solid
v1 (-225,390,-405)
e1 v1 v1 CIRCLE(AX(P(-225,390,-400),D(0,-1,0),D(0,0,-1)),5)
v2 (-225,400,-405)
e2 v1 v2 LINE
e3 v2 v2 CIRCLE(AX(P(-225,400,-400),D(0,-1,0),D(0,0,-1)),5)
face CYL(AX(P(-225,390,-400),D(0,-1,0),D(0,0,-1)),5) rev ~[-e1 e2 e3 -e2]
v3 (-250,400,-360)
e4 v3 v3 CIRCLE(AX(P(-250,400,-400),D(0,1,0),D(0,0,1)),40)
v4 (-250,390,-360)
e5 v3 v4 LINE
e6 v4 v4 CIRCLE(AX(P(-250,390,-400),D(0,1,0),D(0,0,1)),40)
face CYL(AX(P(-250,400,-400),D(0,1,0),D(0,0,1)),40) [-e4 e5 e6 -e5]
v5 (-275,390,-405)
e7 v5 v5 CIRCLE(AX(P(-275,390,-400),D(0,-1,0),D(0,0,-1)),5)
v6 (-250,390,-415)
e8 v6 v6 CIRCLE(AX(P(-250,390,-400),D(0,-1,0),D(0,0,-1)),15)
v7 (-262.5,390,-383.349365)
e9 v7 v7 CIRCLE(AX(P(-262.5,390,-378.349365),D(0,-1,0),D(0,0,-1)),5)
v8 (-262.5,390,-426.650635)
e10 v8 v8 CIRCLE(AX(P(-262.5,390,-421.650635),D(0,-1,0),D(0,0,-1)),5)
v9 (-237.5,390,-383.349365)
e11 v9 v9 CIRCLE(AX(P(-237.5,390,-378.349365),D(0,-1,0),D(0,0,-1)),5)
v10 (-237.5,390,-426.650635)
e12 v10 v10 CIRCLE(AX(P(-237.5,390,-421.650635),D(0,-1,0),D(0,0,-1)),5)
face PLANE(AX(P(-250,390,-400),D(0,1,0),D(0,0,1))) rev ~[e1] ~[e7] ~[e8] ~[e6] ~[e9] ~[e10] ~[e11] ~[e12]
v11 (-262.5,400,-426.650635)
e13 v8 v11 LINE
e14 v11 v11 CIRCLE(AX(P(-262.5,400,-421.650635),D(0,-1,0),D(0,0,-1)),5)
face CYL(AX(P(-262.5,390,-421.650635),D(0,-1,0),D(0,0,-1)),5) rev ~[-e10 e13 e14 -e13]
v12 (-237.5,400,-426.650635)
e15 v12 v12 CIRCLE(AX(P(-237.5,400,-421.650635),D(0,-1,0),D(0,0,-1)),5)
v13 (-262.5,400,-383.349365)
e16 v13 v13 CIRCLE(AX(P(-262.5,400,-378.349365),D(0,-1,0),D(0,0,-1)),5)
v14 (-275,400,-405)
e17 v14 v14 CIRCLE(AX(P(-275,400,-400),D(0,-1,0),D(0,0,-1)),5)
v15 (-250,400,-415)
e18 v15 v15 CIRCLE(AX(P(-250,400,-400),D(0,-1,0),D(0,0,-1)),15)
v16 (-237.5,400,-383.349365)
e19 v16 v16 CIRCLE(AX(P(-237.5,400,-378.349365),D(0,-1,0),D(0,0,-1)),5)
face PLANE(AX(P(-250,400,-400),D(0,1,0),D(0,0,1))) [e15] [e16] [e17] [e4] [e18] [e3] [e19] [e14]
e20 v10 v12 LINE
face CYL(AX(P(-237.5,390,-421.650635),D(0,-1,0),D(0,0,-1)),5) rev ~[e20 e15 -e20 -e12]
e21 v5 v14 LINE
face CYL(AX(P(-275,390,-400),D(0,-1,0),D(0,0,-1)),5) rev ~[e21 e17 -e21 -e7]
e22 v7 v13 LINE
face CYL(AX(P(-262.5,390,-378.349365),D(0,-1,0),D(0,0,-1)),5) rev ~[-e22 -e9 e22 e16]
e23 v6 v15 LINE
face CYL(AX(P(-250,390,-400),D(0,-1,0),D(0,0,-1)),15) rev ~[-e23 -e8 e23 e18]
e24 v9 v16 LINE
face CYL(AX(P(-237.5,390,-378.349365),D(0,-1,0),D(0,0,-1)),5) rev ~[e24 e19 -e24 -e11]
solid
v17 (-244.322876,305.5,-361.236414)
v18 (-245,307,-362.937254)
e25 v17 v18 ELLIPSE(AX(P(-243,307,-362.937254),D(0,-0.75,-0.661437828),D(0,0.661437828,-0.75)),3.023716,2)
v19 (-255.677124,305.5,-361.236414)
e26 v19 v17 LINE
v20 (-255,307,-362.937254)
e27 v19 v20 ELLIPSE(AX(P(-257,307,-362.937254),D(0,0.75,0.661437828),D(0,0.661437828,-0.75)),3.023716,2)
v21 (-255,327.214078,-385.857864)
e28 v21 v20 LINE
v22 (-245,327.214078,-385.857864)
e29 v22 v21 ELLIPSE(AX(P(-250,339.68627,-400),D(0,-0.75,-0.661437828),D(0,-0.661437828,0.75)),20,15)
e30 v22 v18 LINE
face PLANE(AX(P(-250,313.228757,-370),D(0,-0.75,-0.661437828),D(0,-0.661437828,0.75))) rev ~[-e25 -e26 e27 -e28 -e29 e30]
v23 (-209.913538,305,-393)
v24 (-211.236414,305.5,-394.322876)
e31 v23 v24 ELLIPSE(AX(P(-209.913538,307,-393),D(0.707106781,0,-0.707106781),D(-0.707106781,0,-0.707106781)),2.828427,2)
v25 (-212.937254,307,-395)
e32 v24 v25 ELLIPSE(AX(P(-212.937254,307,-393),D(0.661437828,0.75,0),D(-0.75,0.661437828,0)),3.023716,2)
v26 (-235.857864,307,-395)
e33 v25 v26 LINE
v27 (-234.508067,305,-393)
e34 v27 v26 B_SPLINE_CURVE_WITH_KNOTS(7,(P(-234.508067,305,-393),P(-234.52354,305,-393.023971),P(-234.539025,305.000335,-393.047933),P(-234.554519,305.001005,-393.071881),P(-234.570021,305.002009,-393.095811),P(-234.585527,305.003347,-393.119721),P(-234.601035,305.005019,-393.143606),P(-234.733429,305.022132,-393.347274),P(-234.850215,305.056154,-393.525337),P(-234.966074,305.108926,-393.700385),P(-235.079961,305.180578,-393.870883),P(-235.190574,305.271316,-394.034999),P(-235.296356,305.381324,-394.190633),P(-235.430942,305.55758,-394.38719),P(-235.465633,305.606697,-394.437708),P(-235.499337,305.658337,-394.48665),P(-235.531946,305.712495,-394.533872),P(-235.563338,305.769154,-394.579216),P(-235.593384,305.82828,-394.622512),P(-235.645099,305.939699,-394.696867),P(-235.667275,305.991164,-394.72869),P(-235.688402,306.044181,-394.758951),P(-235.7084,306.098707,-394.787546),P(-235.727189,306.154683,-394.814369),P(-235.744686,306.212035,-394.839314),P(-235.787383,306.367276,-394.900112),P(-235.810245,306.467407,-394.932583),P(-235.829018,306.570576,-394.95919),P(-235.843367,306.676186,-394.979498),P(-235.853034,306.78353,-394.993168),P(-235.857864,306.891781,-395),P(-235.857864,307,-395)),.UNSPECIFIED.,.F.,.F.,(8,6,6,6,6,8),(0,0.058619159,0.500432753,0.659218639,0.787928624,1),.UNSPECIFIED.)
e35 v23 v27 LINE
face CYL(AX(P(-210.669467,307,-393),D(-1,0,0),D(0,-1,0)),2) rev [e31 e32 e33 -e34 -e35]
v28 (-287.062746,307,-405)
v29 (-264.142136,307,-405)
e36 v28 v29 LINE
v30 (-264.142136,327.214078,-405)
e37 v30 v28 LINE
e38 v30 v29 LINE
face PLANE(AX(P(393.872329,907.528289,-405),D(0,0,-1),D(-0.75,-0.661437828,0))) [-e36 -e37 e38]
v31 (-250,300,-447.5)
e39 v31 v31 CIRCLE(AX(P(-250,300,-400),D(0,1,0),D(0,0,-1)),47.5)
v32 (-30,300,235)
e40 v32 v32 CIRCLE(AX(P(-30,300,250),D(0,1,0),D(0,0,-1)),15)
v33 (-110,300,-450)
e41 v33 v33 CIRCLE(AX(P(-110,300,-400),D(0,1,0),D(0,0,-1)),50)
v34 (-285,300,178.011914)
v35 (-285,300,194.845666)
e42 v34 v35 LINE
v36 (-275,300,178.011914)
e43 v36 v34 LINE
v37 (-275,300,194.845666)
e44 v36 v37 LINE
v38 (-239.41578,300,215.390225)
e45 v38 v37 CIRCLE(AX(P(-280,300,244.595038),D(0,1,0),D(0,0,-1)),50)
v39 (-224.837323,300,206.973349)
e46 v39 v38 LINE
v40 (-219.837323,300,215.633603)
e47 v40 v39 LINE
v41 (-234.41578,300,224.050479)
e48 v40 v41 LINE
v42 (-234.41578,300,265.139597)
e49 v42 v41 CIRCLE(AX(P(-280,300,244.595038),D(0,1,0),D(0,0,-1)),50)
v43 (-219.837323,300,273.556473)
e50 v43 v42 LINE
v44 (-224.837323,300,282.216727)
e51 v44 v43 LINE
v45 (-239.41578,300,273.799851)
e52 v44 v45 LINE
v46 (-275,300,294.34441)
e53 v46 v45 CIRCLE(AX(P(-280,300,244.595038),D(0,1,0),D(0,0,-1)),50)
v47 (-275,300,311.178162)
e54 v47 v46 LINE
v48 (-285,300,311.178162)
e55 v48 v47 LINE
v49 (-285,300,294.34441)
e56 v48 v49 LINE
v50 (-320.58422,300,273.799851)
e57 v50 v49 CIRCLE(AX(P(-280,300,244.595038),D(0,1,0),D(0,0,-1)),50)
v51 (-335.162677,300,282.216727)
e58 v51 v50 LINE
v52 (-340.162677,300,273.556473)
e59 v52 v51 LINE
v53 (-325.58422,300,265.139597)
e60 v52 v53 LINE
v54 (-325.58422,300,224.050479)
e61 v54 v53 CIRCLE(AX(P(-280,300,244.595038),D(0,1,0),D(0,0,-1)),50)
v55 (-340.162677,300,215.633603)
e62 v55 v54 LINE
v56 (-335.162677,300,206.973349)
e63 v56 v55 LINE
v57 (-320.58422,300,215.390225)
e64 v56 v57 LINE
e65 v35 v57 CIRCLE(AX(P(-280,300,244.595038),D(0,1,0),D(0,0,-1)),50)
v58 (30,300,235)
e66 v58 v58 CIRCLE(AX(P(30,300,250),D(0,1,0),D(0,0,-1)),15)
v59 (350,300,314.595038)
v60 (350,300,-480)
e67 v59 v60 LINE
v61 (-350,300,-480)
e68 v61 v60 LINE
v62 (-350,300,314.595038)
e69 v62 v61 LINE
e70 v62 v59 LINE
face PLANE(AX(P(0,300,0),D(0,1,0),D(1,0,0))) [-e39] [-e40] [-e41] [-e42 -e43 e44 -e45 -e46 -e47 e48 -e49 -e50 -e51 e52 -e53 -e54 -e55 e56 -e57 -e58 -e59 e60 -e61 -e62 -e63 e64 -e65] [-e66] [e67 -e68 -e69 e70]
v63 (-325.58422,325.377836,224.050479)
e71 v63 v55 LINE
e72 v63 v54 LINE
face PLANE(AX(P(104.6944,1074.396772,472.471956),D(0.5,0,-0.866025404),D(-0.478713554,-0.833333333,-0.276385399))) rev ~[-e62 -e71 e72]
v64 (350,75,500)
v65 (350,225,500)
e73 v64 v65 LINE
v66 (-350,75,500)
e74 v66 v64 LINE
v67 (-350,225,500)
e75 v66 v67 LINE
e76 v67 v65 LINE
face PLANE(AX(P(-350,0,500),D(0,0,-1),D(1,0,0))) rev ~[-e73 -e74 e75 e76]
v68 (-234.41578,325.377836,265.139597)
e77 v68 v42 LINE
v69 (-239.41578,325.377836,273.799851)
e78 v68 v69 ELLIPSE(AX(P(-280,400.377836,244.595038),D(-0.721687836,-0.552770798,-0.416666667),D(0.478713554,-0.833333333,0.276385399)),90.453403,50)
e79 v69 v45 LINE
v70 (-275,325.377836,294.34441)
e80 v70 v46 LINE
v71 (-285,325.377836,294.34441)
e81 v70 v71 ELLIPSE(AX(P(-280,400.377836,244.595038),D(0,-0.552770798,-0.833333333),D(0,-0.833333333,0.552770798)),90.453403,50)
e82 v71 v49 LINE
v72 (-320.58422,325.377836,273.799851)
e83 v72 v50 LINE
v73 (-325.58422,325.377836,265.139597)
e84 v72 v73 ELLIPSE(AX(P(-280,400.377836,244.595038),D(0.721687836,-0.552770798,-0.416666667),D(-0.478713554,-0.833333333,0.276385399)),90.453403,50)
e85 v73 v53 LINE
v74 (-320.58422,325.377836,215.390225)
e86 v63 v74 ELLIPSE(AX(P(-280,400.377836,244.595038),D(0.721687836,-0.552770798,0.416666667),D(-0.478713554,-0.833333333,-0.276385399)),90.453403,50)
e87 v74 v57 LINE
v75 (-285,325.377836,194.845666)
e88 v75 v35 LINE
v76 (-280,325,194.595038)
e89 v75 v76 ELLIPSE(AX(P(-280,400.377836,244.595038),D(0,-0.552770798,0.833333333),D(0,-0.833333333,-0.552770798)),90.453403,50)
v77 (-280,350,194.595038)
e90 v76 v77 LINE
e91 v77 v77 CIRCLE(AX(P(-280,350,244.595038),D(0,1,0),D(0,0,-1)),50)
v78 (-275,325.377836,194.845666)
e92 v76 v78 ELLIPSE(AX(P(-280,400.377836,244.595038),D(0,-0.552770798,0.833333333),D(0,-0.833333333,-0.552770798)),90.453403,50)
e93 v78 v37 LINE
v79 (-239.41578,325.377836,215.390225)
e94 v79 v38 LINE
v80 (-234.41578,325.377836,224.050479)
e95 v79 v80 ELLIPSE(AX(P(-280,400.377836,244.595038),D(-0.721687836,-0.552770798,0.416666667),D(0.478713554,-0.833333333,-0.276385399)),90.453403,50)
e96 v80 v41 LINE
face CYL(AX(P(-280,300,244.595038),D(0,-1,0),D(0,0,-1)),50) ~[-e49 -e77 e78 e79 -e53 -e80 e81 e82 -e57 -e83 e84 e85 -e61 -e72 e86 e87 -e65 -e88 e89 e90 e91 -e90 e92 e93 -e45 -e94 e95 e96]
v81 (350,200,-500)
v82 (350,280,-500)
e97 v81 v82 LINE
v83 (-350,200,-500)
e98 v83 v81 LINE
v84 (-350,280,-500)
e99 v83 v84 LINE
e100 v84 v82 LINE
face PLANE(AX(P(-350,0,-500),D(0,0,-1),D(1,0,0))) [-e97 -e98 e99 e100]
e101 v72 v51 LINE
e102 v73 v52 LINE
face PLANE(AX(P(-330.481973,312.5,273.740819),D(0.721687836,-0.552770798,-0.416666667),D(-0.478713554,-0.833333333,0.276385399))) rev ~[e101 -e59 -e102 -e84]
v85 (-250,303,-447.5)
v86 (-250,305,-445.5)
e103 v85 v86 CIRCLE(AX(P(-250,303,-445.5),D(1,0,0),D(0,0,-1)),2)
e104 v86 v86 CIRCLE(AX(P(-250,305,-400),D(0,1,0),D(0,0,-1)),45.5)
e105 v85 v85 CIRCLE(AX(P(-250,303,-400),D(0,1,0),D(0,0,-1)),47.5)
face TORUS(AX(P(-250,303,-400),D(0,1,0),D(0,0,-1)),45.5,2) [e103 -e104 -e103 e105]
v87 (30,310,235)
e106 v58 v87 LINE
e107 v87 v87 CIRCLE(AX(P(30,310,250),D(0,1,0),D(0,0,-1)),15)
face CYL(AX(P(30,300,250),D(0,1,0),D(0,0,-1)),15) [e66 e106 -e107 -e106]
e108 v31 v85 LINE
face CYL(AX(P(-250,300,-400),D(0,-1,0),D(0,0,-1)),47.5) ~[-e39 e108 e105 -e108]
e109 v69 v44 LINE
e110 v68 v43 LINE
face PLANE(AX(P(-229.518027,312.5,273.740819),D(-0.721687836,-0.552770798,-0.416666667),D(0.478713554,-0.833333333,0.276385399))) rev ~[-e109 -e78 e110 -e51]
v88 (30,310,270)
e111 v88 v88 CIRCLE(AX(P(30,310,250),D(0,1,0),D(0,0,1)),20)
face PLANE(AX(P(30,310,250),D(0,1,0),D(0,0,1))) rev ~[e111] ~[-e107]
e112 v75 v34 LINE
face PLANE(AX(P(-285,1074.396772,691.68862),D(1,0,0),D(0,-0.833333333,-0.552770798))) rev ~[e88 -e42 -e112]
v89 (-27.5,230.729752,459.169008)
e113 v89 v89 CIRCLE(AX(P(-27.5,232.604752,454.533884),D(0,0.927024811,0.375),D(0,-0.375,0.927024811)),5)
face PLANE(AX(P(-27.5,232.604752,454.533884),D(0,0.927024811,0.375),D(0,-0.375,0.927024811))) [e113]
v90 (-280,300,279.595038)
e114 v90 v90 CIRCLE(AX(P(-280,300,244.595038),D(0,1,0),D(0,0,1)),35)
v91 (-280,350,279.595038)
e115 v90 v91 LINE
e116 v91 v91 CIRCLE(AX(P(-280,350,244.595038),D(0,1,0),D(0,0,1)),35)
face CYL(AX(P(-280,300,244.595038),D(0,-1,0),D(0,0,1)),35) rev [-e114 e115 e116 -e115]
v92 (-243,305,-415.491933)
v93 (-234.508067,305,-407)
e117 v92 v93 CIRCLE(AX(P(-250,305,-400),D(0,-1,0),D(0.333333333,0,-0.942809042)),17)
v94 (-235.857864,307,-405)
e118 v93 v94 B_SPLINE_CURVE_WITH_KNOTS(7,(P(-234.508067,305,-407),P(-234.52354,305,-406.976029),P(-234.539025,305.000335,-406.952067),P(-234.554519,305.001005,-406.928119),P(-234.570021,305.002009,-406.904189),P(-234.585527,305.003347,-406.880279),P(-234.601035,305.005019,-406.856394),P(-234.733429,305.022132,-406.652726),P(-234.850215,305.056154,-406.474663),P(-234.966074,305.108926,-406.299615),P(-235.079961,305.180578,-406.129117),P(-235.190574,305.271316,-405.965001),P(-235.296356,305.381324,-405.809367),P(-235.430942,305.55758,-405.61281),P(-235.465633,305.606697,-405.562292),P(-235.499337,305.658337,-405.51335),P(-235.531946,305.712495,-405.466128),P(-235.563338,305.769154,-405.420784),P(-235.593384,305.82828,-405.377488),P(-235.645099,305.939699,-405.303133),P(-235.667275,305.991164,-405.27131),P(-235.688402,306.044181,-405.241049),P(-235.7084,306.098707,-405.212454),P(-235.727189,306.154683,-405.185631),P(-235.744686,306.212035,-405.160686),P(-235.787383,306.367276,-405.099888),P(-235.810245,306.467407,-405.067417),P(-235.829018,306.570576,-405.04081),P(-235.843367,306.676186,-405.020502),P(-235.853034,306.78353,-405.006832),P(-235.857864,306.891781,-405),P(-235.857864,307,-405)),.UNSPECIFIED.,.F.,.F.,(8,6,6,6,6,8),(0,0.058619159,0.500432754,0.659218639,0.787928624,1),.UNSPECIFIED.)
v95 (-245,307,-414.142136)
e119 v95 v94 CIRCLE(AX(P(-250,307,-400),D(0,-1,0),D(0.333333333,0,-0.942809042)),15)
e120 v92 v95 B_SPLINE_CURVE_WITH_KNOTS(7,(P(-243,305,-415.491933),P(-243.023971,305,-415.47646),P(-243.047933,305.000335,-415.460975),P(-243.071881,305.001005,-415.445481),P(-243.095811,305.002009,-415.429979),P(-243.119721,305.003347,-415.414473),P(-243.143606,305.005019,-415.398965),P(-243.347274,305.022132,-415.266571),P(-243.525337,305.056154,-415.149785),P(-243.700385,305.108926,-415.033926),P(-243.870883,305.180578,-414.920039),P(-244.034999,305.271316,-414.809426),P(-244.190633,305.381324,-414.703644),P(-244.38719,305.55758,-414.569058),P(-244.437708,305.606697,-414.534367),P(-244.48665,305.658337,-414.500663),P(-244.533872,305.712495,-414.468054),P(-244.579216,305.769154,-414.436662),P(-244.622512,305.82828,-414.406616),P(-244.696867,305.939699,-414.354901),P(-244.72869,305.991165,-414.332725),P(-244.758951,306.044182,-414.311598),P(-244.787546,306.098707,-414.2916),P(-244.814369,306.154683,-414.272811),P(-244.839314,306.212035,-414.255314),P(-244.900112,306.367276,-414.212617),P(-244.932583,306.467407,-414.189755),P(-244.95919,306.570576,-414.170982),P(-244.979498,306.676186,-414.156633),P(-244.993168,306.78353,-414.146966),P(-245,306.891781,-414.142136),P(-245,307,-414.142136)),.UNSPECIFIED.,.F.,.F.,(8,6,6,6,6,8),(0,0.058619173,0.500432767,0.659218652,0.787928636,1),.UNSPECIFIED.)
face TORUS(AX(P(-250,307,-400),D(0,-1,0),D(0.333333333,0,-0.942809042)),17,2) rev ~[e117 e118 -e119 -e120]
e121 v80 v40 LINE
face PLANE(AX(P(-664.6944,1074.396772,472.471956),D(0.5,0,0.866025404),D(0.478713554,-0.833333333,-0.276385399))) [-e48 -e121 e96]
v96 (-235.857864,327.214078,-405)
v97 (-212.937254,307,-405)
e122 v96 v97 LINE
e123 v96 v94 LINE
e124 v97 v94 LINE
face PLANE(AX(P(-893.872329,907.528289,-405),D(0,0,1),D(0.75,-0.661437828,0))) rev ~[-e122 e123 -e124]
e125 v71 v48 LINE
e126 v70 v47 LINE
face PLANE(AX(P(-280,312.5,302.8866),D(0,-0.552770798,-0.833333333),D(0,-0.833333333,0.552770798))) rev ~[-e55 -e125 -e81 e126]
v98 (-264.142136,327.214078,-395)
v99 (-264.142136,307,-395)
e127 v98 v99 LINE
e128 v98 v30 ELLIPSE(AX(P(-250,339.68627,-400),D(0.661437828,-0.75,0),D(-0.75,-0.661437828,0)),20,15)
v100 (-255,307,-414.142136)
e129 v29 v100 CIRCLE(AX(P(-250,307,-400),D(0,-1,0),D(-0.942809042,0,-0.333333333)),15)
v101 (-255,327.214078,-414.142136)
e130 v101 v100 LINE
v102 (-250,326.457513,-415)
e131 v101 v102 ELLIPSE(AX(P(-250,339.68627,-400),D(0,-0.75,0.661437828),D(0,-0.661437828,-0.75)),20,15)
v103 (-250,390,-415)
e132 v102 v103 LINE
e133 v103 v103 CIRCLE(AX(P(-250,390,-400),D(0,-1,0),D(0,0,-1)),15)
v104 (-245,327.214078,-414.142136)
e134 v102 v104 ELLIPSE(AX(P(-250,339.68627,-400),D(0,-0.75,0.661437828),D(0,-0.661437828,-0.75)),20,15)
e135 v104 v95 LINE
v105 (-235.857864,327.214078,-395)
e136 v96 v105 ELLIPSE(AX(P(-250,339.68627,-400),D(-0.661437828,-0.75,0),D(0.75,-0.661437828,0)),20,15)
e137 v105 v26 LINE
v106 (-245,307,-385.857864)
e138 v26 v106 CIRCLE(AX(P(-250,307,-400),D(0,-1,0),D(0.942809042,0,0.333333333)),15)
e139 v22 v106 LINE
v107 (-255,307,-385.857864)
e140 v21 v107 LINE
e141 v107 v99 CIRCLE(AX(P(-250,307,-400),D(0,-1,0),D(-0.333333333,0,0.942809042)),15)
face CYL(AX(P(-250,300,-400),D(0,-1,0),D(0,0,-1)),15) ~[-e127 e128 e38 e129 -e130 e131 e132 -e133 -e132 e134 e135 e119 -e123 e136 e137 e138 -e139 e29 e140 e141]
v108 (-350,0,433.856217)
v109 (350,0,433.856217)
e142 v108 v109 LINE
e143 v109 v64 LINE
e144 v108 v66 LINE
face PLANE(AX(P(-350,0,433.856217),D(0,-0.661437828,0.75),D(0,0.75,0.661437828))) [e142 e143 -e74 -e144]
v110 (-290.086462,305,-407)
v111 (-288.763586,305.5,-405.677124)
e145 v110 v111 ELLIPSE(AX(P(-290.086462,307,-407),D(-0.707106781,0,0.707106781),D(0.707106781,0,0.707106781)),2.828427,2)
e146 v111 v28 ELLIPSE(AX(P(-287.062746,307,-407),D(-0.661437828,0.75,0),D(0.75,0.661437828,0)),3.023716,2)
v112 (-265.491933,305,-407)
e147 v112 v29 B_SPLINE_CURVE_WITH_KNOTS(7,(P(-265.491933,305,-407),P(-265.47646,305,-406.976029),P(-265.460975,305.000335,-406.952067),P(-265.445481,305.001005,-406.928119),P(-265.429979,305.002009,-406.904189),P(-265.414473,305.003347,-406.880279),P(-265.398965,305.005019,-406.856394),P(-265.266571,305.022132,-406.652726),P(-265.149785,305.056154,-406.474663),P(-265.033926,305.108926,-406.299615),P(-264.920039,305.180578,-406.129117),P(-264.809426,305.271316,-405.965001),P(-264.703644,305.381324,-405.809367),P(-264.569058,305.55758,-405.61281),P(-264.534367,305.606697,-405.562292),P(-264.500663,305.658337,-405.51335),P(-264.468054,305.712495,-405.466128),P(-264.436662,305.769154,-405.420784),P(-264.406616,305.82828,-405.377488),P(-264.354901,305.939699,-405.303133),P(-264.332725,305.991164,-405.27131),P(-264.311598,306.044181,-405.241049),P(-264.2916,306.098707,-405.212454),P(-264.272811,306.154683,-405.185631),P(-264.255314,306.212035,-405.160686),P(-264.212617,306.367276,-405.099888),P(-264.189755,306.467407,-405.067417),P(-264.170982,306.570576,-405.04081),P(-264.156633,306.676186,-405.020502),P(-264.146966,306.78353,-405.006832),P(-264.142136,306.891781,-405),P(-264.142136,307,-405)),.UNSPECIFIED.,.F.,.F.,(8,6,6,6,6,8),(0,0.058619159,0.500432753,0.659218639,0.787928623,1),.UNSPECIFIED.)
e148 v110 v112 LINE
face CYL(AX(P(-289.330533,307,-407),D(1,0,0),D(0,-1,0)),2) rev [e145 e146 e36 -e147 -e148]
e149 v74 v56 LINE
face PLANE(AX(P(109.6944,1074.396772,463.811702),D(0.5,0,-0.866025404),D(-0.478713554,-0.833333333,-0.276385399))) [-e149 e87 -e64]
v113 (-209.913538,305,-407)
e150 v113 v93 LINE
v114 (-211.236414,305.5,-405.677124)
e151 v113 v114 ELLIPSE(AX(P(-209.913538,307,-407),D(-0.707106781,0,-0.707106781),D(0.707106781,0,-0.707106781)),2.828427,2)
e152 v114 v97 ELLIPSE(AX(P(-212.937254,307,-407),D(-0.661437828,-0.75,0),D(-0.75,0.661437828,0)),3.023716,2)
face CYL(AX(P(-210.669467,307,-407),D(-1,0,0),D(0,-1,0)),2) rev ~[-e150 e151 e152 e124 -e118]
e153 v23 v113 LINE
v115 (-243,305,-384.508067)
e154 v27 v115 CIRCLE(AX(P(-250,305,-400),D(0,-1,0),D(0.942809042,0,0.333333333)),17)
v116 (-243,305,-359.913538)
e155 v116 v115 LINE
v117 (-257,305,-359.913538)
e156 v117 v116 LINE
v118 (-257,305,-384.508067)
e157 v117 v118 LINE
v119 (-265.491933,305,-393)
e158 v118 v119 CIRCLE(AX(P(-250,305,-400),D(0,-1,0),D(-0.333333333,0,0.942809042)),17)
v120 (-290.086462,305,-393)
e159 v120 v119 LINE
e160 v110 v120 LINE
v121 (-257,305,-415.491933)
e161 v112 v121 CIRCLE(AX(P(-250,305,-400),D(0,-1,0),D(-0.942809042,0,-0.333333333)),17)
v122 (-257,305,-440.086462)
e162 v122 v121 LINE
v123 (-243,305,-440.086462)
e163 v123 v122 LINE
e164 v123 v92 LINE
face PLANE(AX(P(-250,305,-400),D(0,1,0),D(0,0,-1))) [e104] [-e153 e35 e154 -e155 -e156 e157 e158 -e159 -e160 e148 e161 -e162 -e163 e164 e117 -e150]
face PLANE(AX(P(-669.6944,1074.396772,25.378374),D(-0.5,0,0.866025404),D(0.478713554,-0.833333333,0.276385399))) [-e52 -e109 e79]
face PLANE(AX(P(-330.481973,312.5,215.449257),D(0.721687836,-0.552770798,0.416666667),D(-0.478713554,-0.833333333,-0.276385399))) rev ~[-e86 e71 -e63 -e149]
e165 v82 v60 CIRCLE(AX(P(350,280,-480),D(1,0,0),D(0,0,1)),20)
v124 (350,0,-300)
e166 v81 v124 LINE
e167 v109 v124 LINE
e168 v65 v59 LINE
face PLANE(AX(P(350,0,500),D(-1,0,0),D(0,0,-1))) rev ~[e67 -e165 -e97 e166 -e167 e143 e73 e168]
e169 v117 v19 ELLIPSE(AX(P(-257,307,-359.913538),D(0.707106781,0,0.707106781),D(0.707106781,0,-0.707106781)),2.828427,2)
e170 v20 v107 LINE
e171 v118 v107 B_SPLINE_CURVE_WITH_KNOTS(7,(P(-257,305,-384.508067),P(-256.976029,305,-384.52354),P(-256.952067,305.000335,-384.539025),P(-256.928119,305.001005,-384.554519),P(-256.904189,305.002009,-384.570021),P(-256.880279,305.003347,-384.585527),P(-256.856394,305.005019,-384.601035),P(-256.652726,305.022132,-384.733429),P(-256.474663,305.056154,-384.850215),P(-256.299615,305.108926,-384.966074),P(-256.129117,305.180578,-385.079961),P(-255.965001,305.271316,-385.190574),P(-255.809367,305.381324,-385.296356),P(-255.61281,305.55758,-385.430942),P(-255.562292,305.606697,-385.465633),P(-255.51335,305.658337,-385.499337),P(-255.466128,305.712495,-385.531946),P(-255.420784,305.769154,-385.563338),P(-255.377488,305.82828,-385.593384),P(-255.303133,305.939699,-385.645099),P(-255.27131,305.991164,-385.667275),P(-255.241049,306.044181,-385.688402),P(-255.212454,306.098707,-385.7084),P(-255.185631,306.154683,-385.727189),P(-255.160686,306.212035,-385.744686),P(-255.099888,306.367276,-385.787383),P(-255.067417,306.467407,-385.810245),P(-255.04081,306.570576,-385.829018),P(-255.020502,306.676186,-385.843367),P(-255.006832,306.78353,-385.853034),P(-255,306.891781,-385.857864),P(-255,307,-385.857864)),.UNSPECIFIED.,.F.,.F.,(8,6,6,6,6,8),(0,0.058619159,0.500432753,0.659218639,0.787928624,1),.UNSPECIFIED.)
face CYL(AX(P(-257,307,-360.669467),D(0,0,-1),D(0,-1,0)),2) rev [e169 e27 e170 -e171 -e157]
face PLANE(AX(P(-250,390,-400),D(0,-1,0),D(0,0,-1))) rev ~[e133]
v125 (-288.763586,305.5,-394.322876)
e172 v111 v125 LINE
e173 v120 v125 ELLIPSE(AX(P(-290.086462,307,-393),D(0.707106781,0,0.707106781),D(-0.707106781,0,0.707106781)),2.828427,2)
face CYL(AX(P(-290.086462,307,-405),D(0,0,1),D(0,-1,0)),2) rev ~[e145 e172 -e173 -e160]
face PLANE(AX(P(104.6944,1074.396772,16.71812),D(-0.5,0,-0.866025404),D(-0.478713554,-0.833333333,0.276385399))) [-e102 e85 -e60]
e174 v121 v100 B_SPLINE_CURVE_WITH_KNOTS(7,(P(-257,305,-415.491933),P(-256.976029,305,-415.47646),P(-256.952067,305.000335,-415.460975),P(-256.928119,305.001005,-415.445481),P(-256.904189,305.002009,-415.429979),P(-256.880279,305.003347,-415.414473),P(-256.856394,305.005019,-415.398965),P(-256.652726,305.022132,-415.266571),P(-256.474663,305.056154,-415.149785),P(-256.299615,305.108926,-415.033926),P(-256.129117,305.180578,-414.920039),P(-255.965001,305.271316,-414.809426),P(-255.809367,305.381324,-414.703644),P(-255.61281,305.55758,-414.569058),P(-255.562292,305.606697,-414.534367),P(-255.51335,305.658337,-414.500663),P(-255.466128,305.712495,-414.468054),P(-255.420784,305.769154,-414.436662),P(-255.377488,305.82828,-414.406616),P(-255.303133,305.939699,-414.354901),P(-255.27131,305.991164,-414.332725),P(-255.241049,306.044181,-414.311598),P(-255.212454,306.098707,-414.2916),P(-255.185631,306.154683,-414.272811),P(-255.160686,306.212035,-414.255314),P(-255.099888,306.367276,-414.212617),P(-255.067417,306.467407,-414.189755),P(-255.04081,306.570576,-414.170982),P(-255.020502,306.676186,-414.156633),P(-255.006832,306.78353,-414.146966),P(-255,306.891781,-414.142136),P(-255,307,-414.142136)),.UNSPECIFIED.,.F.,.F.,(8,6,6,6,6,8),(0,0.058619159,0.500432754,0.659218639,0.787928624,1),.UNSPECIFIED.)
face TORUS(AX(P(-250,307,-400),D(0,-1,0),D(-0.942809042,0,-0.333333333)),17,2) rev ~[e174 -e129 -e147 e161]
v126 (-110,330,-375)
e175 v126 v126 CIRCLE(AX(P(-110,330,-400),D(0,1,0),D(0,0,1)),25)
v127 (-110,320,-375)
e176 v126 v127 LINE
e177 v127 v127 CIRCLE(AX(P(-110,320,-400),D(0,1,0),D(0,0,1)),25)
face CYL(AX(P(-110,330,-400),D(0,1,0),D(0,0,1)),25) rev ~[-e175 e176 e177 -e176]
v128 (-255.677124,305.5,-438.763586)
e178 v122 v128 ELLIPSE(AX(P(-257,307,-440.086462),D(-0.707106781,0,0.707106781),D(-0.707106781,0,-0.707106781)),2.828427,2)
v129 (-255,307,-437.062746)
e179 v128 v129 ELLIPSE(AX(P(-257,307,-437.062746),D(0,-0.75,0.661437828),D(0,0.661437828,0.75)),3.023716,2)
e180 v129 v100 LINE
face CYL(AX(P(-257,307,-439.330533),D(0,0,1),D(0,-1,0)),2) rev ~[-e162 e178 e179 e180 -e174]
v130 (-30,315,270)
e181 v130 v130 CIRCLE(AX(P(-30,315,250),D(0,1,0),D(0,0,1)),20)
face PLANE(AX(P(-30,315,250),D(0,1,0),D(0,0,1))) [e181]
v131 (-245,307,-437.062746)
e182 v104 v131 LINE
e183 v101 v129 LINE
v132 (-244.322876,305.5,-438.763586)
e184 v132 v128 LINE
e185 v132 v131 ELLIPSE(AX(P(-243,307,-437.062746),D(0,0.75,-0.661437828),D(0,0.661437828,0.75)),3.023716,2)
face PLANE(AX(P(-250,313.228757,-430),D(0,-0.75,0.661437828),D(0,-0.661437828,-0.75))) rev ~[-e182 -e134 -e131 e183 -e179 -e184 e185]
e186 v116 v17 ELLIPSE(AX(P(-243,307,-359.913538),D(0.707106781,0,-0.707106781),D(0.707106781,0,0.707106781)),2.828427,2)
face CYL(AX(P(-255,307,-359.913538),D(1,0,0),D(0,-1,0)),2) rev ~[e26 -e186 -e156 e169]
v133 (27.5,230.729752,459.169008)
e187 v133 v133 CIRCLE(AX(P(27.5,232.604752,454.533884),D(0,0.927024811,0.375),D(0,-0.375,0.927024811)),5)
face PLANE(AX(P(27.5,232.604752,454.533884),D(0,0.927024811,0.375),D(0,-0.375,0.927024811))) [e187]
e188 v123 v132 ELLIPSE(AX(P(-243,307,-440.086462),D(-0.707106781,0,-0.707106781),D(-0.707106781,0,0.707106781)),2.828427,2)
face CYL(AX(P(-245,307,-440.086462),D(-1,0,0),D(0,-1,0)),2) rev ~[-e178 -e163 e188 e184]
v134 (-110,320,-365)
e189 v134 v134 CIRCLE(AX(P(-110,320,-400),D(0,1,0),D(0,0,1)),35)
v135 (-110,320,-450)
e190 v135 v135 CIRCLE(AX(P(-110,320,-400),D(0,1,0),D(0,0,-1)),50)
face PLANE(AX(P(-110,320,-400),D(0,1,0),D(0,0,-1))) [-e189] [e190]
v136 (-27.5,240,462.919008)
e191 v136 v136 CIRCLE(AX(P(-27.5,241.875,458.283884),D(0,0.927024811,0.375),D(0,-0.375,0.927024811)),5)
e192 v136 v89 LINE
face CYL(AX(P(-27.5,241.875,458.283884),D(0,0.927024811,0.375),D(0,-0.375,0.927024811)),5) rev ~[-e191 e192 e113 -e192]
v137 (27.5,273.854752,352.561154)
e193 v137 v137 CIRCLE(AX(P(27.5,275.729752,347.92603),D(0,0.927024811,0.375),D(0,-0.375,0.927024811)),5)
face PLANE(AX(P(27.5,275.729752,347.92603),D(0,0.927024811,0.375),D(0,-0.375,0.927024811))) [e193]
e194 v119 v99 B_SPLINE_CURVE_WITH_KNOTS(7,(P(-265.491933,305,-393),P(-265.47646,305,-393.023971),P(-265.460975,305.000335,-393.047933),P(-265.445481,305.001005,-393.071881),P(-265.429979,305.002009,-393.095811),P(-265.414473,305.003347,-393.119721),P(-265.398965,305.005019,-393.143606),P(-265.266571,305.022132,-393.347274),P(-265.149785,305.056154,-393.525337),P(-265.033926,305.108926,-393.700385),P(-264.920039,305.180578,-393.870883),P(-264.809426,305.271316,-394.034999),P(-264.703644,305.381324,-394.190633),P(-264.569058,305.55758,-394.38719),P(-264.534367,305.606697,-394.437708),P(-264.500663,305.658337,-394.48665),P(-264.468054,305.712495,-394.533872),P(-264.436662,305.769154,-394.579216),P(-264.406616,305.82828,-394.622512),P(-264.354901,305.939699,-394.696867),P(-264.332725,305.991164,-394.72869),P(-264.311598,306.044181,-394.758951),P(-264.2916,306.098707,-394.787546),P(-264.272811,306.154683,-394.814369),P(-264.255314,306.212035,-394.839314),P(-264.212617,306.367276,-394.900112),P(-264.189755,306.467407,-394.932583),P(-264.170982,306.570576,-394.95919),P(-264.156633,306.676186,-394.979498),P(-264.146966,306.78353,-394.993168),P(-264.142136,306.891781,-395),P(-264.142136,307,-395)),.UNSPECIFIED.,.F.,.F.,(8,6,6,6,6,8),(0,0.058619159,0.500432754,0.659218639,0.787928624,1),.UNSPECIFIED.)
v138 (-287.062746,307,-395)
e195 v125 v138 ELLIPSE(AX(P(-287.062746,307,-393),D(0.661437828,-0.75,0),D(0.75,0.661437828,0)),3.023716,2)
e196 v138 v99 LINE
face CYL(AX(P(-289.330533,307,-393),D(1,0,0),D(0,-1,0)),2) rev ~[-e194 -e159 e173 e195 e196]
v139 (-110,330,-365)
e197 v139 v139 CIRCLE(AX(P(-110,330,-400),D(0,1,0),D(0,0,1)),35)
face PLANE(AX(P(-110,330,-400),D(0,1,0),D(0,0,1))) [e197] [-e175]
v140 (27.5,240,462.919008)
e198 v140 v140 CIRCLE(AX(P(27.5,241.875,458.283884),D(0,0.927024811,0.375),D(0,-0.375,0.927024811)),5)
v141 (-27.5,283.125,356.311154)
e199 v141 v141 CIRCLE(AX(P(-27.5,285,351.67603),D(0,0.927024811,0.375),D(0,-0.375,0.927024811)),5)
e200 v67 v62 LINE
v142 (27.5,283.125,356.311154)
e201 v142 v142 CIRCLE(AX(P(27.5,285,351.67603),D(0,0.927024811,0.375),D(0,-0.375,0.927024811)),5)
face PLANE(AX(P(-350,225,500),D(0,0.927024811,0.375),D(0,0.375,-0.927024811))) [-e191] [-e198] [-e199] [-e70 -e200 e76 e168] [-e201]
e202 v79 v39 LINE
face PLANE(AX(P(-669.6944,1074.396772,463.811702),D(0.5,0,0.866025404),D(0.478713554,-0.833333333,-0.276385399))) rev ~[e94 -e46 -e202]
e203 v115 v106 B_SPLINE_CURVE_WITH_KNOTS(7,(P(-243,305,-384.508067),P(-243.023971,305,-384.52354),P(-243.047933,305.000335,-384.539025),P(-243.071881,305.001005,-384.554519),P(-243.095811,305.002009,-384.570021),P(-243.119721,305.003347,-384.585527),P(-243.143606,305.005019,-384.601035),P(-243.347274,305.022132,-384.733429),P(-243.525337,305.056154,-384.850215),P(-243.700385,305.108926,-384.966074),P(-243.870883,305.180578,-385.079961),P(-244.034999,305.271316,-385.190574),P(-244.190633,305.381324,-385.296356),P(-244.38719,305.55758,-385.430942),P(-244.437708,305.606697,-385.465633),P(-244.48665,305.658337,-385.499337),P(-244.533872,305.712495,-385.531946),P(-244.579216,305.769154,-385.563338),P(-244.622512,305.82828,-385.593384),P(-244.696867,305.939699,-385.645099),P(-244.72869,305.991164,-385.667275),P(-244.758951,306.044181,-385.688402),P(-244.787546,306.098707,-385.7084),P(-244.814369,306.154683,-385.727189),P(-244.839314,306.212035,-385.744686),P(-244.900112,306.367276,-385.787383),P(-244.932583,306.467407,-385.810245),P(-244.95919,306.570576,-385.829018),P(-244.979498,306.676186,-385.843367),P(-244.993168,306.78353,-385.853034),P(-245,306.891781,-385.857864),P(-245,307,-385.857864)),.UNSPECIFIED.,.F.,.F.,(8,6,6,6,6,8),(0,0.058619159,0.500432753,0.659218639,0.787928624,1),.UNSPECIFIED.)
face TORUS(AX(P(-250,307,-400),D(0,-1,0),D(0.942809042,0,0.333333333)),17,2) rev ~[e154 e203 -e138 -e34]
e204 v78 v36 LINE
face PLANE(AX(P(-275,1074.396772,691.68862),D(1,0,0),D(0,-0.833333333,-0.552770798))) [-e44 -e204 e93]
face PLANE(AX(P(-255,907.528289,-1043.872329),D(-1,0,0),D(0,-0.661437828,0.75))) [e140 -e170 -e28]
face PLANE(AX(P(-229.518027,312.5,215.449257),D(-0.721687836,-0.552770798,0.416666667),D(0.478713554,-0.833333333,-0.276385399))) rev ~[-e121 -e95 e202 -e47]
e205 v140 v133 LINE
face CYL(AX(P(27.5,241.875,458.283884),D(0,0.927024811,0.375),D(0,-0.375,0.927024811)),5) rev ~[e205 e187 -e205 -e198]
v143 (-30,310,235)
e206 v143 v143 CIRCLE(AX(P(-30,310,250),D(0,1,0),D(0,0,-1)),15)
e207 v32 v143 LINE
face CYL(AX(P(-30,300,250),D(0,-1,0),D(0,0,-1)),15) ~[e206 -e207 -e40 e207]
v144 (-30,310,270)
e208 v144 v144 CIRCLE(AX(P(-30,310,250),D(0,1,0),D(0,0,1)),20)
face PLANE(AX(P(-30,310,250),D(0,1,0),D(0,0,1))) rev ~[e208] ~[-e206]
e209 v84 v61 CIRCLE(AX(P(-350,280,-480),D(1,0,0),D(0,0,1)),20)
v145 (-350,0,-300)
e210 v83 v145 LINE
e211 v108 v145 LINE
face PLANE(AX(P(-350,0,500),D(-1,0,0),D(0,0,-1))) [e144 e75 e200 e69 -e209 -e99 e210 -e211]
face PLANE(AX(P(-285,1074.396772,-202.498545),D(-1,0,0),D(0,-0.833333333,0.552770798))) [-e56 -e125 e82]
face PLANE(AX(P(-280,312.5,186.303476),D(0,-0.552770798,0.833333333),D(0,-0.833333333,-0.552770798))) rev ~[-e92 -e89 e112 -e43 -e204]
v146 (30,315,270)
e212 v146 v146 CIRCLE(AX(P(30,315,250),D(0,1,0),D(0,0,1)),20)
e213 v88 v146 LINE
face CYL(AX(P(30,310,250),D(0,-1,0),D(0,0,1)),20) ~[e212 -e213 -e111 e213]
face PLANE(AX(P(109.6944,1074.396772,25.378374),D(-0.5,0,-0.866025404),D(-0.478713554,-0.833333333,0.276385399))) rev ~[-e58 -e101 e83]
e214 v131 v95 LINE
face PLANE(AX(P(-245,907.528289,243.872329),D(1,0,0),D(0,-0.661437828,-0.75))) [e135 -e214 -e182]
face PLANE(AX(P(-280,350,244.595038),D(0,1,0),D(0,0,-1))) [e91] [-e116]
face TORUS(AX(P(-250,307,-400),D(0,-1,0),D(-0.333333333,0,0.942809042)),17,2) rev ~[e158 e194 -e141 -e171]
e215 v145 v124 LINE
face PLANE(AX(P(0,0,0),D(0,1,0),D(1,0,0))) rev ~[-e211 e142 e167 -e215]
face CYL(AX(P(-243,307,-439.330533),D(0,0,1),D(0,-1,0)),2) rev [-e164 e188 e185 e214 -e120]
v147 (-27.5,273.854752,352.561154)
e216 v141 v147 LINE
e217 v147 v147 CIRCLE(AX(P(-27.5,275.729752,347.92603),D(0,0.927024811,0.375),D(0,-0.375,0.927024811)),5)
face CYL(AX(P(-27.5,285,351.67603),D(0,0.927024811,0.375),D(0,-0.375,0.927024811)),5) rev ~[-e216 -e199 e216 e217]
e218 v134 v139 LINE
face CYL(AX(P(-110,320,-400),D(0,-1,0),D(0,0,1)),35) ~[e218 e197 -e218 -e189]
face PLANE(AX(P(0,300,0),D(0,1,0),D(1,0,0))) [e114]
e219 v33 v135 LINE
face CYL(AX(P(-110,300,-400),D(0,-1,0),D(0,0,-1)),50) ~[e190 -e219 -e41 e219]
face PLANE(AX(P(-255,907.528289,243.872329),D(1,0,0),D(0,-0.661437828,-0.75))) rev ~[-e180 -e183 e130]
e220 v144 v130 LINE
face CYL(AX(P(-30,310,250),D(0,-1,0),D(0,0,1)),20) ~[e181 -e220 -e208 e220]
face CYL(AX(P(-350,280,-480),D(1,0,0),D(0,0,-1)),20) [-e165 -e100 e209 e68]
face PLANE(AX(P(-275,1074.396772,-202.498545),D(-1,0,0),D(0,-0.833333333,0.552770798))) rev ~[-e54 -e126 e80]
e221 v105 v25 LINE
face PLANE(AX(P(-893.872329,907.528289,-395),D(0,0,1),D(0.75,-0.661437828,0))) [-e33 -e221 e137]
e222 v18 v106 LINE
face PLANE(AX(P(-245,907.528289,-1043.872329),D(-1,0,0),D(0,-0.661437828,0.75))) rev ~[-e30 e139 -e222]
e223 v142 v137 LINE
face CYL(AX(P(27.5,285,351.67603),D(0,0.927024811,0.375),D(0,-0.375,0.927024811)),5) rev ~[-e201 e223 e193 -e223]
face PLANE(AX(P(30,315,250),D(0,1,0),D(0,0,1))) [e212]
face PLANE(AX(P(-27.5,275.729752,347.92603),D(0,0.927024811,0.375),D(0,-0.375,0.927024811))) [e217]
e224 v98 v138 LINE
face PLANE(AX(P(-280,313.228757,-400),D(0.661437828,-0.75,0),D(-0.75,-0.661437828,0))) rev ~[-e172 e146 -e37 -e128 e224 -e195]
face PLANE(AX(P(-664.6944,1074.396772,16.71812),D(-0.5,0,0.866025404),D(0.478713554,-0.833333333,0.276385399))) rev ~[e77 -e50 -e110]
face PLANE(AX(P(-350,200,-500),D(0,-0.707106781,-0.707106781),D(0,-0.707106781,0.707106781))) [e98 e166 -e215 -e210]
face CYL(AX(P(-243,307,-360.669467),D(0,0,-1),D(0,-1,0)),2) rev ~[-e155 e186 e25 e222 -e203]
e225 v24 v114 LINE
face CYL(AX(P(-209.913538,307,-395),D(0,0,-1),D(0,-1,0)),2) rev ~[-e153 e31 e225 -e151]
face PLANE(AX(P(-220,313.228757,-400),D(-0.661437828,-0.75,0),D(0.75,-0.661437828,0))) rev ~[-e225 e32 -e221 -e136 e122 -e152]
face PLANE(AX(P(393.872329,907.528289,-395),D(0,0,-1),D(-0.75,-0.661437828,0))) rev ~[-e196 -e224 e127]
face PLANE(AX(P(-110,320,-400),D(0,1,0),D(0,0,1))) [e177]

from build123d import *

# Parameters (mm, degrees)
SKETCH2_W           = 700
SKETCH2_H           = 1000
BOSS_EXTRUDE1_DEPTH = 300
SKETCH3_R           = 15
BOSS_EXTRUDE2_DEPTH = 100
CUT_EXTRUDE2_DEPTH  = 949.683298051
CUT_EXTRUDE3_DEPTH  = 949.683298051
CUT_EXTRUDE4_DEPTH  = 949.683298051
FILLET1_R           = 20
SKETCH8_R           = 40
BOSS_EXTRUDE3_DEPTH = 10
SKETCH10_R          = 15
CUT_EXTRUDE5_DEPTH  = 20
SKETCH11_R          = 5
CUT_EXTRUDE6_DEPTH  = 10
RIB6_REACH          = 879.496
SKETCH13_WALL_W     = 1796.992877478
SKETCH13_WALL_H     = 10
CIRPATTERN1_COUNT   = 4
SKETCH14_R          = 47.5
BOSS_EXTRUDE4_DEPTH = 5
FILLET2_R           = 2
SKETCH15_R          = 50
BOSS_EXTRUDE5_DEPTH = 20
SKETCH16_R          = 35
BOSS_EXTRUDE6_DEPTH = 10
SKETCH17_R          = 25
CUT_EXTRUDE7_DEPTH  = 10
SKETCH18_R          = 50
SKETCH18_R_2        = 35
BOSS_EXTRUDE7_DEPTH = 50
RIB7_REACH          = 900.276
SKETCH19_WALL_W     = 1828.552253624
SKETCH19_WALL_H     = 10
CIRPATTERN2_COUNT   = 6
SKETCH20_R          = 15
BOSS_EXTRUDE8_DEPTH = 10
SKETCH21_R          = 20
BOSS_EXTRUDE9_DEPTH = 5
SKETCH22_R          = 5
CUT_EXTRUDE8_DEPTH  = 10


with BuildPart() as part:
    # Sketch2 → Boss-Extrude1 (new body)
    with BuildSketch(Plane(origin=(0, 0, 0), x_dir=(1, 0, 0), z_dir=(0, 1, 0))):
        Rectangle(SKETCH2_W, SKETCH2_H)
    extrude(amount=BOSS_EXTRUDE1_DEPTH)

    # Sketch3 → Boss-Extrude2 (add)
    with BuildSketch(Plane(origin=(0, 300, 0), x_dir=(1, 0, 0), z_dir=(0, 1, 0))):
        with Locations(Location((-250, 400, 0), (0, 0, 90))):
            Circle(SKETCH3_R)
    extrude(amount=BOSS_EXTRUDE2_DEPTH)

    # Sketch5 → Cut-Extrude2 (cut, through all)
    with BuildSketch(Plane.ZY.offset(350)):
        Polygon((314.595037823, 300), (500, 300), (500, 225), align=None)
    extrude(amount=-CUT_EXTRUDE2_DEPTH, mode=Mode.SUBTRACT)

    # Sketch6 → Cut-Extrude3 (cut, through all)
    with BuildSketch(Plane.ZY.offset(350)):
        Polygon((433.856217223, 0), (500, 75), (500, 0), align=None)
    extrude(amount=-CUT_EXTRUDE3_DEPTH, mode=Mode.SUBTRACT)

    # Sketch7 → Cut-Extrude4 (cut, through all)
    with BuildSketch(Plane.ZY.offset(350)):
        Polygon((-500, 200), (-300, 0), (-500, 0), align=None)
    extrude(amount=-CUT_EXTRUDE4_DEPTH, mode=Mode.SUBTRACT)

    # Fillet1
    fillet1_edges = [part.edges().sort_by_distance(p)[0] for p in [
        (0, 300, -500),
    ]]
    fillet(fillet1_edges, radius=FILLET1_R)

    # Sketch8 → Boss-Extrude3 (add)
    with BuildSketch(Plane(origin=(0, 400, 0), x_dir=(1, 0, 0), z_dir=(0, 1, 0))):
        with Locations(Location((-250, 400, 0), (0, 0, 270))):
            Circle(SKETCH8_R)
    extrude(amount=-BOSS_EXTRUDE3_DEPTH)

    # Sketch10 → Cut-Extrude5 (cut)
    with BuildSketch(Plane(origin=(0, 390, 0), x_dir=(-1, 0, 0), z_dir=(0, -1, 0))):
        with Locations(Location((250, 400, 0), (0, 0, 90))):
            Circle(SKETCH10_R)
    extrude(amount=-CUT_EXTRUDE5_DEPTH, mode=Mode.SUBTRACT)


with BuildPart() as cut_extrude5_piece_1:
    # of the separate pieces the step leaves, piece 1, a body of its own (cut_extrude5_pieces)
    add(part.part.solids().sort_by_distance((-350, 280, -500))[0])

    # Sketch13 wall → Rib6 (add, up to next)
    with BuildSketch(Plane(origin=(-250, 313.228756556, -370), x_dir=(0, -0.661437827771, 0.749999999996), z_dir=(0, -0.749999999996, -0.661437827771)), mode=Mode.PRIVATE) as rib6_sk1:
        Rectangle(SKETCH13_WALL_W, SKETCH13_WALL_H)
    rib6_tool1 = extrude(rib6_sk1.sketch, amount=RIB6_REACH, mode=Mode.PRIVATE) - cut_extrude5_piece_1.part
    rib6 = rib6_tool1.solids().sort_by_distance((-250, 313.228756556, -370))[0]
    add(rib6)

    # CirPattern1: Rib6 ×4 about axis
    cirpattern1_axis = Axis((-250, 0, -400), (0, 1, 0))
    for i in range(1, CIRPATTERN1_COUNT):
        add(rib6.rotate(cirpattern1_axis, i * 360 / CIRPATTERN1_COUNT))

    # Sketch14 → Boss-Extrude4 (add)
    with BuildSketch(Plane(origin=(0, 300, 0), x_dir=(1, 0, 0), z_dir=(0, 1, 0))):
        with Locations(Location((-250, 400, 0), (0, 0, 90))):
            Circle(SKETCH14_R)
    extrude(amount=BOSS_EXTRUDE4_DEPTH)

    # Fillet2
    fillet2_edges = [cut_extrude5_piece_1.edges().sort_by_distance(p)[0] for p in [
        (-276.736334265, 305, -395),
        (-239.393398282, 305, -410.606601718),
        (-245, 305, -426.736334265),
        (-260.606601718, 305, -410.606601718),
        (-276.736334265, 305, -405),
        (-260.606601718, 305, -389.393398282),
        (-255, 305, -373.263665735),
        (-239.393398282, 305, -389.393398282),
        (-223.263665735, 305, -395),
        (-223.263665735, 305, -405),
        (-210.669467094, 305, -400),
        (-245, 305, -373.263665735),
        (-250, 305, -360.669467094),
        (-289.330532906, 305, -400),
        (-255, 305, -426.736334265),
        (-250, 305, -439.330532906),
        (-250, 305, -352.5),
    ]]
    fillet(fillet2_edges, radius=FILLET2_R)

    # Sketch15 → Boss-Extrude5 (add)
    with BuildSketch(Plane(origin=(0, 300, 0), x_dir=(1, 0, 0), z_dir=(0, 1, 0))):
        with Locations(Location((-110, 400, 0), (0, 0, 90))):
            Circle(SKETCH15_R)
    extrude(amount=BOSS_EXTRUDE5_DEPTH)

    # Sketch16 → Boss-Extrude6 (add)
    with BuildSketch(Plane(origin=(0, 320, 0), x_dir=(1, 0, 0), z_dir=(0, 1, 0))):
        with Locations(Location((-110, 400, 0), (0, 0, 270))):
            Circle(SKETCH16_R)
    extrude(amount=BOSS_EXTRUDE6_DEPTH)

    # Sketch17 → Cut-Extrude7 (cut)
    with BuildSketch(Plane(origin=(0, 330, 0), x_dir=(1, 0, 0), z_dir=(0, 1, 0))):
        with Locations(Location((-110, 400, 0), (0, 0, 270))):
            Circle(SKETCH17_R)
    extrude(amount=-CUT_EXTRUDE7_DEPTH, mode=Mode.SUBTRACT)

    # Sketch18 → Boss-Extrude7 (add)
    with BuildSketch(Plane(origin=(0, 300, 0), x_dir=(1, 0, 0), z_dir=(0, 1, 0))):
        with Locations(Location((-280, -244.595037823, 0), (0, 0, 90))):
            Circle(SKETCH18_R)
        with Locations(Location((-280, -244.595037823, 0), (0, 0, 270))):
            Circle(SKETCH18_R_2, mode=Mode.SUBTRACT)
    extrude(amount=BOSS_EXTRUDE7_DEPTH)

    # Sketch19 wall → Rib7 (add, up to next)
    with BuildSketch(Plane(origin=(-280, 312.5, 302.886599799), x_dir=(0, -0.833333333345, 0.552770798375), z_dir=(0, -0.552770798375, -0.833333333345)), mode=Mode.PRIVATE) as rib7_sk1:
        Rectangle(SKETCH19_WALL_W, SKETCH19_WALL_H)
    rib7_tool1 = extrude(rib7_sk1.sketch, amount=RIB7_REACH, mode=Mode.PRIVATE) - cut_extrude5_piece_1.part
    rib7 = rib7_tool1.solids().sort_by_distance((-280, 312.5, 302.886599799))[0]
    add(rib7)

    # CirPattern2: Rib7 ×6 about axis
    cirpattern2_axis = Axis((-280, 0, 244.595037823), (0, 1, 0))
    for i in range(1, CIRPATTERN2_COUNT):
        add(rib7.rotate(cirpattern2_axis, i * 360 / CIRPATTERN2_COUNT))

    # Sketch20 → Boss-Extrude8 (add, symmetric)
    with BuildSketch(Plane(origin=(0, 300, 0), x_dir=(1, 0, 0), z_dir=(0, 1, 0))):
        with Locations(Location((-30, -250, 0), (0, 0, 90))):
            Circle(SKETCH20_R)
        with Locations(Location((30, -250, 0), (0, 0, 90))):
            Circle(SKETCH20_R)
    extrude(amount=BOSS_EXTRUDE8_DEPTH, both=True)

    # Sketch21 → Boss-Extrude9 (add)
    with BuildSketch(Plane(origin=(0, 310, 0), x_dir=(1, 0, 0), z_dir=(0, 1, 0))):
        with Locations(Location((-30, -250, 0), (0, 0, 270))):
            Circle(SKETCH21_R)
        with Locations(Location((30, -250, 0), (0, 0, 270))):
            Circle(SKETCH21_R)
    extrude(amount=BOSS_EXTRUDE9_DEPTH)

    # Sketch22 → Cut-Extrude8 (cut)
    with BuildSketch(Plane(origin=(0, 367.176527041, 148.530218419), x_dir=(1, 0, 0), z_dir=(0, 0.927024810886958, 0.3749999999999998))):
        with Locations(Location((-27.5, -219.137405443, 0), (0, 0, 270))):
            Circle(SKETCH22_R)
        with Locations(Location((27.5, -219.137405443, 0), (0, 0, 270))):
            Circle(SKETCH22_R)
        with Locations(Location((27.5, -334.137405443, 0), (0, 0, 270))):
            Circle(SKETCH22_R)
        with Locations(Location((-27.5, -334.137405443, 0), (0, 0, 270))):
            Circle(SKETCH22_R)
    extrude(amount=-CUT_EXTRUDE8_DEPTH, mode=Mode.SUBTRACT)


with BuildPart() as cut_extrude5_piece_2:
    # of the separate pieces the step leaves, piece 2, a body of its own (cut_extrude5_pieces)
    add(part.part.solids().sort_by_distance((-250, 390, -360))[0])

    # Sketch11 → Cut-Extrude6 (cut)
    with BuildSketch(Plane(origin=(0, 390, 0), x_dir=(-1, 0, 0), z_dir=(0, -1, 0))):
        with Locations(Location((225, 400, 0), (0, 0, 90))):
            Circle(SKETCH11_R)
        with Locations(Location((237.5, 421.650635095, 0), (0, 0, 90))):
            Circle(SKETCH11_R)
        with Locations(Location((262.5, 421.650635095, 0), (0, 0, 90))):
            Circle(SKETCH11_R)
        with Locations(Location((275, 400, 0), (0, 0, 90))):
            Circle(SKETCH11_R)
        with Locations(Location((262.5, 378.349364905, 0), (0, 0, 90))):
            Circle(SKETCH11_R)
        with Locations(Location((237.5, 378.349364905, 0), (0, 0, 90))):
            Circle(SKETCH11_R)
    extrude(amount=-CUT_EXTRUDE6_DEPTH, mode=Mode.SUBTRACT)


solid = Compound([cut_extrude5_piece_1.part, cut_extrude5_piece_2.part])
